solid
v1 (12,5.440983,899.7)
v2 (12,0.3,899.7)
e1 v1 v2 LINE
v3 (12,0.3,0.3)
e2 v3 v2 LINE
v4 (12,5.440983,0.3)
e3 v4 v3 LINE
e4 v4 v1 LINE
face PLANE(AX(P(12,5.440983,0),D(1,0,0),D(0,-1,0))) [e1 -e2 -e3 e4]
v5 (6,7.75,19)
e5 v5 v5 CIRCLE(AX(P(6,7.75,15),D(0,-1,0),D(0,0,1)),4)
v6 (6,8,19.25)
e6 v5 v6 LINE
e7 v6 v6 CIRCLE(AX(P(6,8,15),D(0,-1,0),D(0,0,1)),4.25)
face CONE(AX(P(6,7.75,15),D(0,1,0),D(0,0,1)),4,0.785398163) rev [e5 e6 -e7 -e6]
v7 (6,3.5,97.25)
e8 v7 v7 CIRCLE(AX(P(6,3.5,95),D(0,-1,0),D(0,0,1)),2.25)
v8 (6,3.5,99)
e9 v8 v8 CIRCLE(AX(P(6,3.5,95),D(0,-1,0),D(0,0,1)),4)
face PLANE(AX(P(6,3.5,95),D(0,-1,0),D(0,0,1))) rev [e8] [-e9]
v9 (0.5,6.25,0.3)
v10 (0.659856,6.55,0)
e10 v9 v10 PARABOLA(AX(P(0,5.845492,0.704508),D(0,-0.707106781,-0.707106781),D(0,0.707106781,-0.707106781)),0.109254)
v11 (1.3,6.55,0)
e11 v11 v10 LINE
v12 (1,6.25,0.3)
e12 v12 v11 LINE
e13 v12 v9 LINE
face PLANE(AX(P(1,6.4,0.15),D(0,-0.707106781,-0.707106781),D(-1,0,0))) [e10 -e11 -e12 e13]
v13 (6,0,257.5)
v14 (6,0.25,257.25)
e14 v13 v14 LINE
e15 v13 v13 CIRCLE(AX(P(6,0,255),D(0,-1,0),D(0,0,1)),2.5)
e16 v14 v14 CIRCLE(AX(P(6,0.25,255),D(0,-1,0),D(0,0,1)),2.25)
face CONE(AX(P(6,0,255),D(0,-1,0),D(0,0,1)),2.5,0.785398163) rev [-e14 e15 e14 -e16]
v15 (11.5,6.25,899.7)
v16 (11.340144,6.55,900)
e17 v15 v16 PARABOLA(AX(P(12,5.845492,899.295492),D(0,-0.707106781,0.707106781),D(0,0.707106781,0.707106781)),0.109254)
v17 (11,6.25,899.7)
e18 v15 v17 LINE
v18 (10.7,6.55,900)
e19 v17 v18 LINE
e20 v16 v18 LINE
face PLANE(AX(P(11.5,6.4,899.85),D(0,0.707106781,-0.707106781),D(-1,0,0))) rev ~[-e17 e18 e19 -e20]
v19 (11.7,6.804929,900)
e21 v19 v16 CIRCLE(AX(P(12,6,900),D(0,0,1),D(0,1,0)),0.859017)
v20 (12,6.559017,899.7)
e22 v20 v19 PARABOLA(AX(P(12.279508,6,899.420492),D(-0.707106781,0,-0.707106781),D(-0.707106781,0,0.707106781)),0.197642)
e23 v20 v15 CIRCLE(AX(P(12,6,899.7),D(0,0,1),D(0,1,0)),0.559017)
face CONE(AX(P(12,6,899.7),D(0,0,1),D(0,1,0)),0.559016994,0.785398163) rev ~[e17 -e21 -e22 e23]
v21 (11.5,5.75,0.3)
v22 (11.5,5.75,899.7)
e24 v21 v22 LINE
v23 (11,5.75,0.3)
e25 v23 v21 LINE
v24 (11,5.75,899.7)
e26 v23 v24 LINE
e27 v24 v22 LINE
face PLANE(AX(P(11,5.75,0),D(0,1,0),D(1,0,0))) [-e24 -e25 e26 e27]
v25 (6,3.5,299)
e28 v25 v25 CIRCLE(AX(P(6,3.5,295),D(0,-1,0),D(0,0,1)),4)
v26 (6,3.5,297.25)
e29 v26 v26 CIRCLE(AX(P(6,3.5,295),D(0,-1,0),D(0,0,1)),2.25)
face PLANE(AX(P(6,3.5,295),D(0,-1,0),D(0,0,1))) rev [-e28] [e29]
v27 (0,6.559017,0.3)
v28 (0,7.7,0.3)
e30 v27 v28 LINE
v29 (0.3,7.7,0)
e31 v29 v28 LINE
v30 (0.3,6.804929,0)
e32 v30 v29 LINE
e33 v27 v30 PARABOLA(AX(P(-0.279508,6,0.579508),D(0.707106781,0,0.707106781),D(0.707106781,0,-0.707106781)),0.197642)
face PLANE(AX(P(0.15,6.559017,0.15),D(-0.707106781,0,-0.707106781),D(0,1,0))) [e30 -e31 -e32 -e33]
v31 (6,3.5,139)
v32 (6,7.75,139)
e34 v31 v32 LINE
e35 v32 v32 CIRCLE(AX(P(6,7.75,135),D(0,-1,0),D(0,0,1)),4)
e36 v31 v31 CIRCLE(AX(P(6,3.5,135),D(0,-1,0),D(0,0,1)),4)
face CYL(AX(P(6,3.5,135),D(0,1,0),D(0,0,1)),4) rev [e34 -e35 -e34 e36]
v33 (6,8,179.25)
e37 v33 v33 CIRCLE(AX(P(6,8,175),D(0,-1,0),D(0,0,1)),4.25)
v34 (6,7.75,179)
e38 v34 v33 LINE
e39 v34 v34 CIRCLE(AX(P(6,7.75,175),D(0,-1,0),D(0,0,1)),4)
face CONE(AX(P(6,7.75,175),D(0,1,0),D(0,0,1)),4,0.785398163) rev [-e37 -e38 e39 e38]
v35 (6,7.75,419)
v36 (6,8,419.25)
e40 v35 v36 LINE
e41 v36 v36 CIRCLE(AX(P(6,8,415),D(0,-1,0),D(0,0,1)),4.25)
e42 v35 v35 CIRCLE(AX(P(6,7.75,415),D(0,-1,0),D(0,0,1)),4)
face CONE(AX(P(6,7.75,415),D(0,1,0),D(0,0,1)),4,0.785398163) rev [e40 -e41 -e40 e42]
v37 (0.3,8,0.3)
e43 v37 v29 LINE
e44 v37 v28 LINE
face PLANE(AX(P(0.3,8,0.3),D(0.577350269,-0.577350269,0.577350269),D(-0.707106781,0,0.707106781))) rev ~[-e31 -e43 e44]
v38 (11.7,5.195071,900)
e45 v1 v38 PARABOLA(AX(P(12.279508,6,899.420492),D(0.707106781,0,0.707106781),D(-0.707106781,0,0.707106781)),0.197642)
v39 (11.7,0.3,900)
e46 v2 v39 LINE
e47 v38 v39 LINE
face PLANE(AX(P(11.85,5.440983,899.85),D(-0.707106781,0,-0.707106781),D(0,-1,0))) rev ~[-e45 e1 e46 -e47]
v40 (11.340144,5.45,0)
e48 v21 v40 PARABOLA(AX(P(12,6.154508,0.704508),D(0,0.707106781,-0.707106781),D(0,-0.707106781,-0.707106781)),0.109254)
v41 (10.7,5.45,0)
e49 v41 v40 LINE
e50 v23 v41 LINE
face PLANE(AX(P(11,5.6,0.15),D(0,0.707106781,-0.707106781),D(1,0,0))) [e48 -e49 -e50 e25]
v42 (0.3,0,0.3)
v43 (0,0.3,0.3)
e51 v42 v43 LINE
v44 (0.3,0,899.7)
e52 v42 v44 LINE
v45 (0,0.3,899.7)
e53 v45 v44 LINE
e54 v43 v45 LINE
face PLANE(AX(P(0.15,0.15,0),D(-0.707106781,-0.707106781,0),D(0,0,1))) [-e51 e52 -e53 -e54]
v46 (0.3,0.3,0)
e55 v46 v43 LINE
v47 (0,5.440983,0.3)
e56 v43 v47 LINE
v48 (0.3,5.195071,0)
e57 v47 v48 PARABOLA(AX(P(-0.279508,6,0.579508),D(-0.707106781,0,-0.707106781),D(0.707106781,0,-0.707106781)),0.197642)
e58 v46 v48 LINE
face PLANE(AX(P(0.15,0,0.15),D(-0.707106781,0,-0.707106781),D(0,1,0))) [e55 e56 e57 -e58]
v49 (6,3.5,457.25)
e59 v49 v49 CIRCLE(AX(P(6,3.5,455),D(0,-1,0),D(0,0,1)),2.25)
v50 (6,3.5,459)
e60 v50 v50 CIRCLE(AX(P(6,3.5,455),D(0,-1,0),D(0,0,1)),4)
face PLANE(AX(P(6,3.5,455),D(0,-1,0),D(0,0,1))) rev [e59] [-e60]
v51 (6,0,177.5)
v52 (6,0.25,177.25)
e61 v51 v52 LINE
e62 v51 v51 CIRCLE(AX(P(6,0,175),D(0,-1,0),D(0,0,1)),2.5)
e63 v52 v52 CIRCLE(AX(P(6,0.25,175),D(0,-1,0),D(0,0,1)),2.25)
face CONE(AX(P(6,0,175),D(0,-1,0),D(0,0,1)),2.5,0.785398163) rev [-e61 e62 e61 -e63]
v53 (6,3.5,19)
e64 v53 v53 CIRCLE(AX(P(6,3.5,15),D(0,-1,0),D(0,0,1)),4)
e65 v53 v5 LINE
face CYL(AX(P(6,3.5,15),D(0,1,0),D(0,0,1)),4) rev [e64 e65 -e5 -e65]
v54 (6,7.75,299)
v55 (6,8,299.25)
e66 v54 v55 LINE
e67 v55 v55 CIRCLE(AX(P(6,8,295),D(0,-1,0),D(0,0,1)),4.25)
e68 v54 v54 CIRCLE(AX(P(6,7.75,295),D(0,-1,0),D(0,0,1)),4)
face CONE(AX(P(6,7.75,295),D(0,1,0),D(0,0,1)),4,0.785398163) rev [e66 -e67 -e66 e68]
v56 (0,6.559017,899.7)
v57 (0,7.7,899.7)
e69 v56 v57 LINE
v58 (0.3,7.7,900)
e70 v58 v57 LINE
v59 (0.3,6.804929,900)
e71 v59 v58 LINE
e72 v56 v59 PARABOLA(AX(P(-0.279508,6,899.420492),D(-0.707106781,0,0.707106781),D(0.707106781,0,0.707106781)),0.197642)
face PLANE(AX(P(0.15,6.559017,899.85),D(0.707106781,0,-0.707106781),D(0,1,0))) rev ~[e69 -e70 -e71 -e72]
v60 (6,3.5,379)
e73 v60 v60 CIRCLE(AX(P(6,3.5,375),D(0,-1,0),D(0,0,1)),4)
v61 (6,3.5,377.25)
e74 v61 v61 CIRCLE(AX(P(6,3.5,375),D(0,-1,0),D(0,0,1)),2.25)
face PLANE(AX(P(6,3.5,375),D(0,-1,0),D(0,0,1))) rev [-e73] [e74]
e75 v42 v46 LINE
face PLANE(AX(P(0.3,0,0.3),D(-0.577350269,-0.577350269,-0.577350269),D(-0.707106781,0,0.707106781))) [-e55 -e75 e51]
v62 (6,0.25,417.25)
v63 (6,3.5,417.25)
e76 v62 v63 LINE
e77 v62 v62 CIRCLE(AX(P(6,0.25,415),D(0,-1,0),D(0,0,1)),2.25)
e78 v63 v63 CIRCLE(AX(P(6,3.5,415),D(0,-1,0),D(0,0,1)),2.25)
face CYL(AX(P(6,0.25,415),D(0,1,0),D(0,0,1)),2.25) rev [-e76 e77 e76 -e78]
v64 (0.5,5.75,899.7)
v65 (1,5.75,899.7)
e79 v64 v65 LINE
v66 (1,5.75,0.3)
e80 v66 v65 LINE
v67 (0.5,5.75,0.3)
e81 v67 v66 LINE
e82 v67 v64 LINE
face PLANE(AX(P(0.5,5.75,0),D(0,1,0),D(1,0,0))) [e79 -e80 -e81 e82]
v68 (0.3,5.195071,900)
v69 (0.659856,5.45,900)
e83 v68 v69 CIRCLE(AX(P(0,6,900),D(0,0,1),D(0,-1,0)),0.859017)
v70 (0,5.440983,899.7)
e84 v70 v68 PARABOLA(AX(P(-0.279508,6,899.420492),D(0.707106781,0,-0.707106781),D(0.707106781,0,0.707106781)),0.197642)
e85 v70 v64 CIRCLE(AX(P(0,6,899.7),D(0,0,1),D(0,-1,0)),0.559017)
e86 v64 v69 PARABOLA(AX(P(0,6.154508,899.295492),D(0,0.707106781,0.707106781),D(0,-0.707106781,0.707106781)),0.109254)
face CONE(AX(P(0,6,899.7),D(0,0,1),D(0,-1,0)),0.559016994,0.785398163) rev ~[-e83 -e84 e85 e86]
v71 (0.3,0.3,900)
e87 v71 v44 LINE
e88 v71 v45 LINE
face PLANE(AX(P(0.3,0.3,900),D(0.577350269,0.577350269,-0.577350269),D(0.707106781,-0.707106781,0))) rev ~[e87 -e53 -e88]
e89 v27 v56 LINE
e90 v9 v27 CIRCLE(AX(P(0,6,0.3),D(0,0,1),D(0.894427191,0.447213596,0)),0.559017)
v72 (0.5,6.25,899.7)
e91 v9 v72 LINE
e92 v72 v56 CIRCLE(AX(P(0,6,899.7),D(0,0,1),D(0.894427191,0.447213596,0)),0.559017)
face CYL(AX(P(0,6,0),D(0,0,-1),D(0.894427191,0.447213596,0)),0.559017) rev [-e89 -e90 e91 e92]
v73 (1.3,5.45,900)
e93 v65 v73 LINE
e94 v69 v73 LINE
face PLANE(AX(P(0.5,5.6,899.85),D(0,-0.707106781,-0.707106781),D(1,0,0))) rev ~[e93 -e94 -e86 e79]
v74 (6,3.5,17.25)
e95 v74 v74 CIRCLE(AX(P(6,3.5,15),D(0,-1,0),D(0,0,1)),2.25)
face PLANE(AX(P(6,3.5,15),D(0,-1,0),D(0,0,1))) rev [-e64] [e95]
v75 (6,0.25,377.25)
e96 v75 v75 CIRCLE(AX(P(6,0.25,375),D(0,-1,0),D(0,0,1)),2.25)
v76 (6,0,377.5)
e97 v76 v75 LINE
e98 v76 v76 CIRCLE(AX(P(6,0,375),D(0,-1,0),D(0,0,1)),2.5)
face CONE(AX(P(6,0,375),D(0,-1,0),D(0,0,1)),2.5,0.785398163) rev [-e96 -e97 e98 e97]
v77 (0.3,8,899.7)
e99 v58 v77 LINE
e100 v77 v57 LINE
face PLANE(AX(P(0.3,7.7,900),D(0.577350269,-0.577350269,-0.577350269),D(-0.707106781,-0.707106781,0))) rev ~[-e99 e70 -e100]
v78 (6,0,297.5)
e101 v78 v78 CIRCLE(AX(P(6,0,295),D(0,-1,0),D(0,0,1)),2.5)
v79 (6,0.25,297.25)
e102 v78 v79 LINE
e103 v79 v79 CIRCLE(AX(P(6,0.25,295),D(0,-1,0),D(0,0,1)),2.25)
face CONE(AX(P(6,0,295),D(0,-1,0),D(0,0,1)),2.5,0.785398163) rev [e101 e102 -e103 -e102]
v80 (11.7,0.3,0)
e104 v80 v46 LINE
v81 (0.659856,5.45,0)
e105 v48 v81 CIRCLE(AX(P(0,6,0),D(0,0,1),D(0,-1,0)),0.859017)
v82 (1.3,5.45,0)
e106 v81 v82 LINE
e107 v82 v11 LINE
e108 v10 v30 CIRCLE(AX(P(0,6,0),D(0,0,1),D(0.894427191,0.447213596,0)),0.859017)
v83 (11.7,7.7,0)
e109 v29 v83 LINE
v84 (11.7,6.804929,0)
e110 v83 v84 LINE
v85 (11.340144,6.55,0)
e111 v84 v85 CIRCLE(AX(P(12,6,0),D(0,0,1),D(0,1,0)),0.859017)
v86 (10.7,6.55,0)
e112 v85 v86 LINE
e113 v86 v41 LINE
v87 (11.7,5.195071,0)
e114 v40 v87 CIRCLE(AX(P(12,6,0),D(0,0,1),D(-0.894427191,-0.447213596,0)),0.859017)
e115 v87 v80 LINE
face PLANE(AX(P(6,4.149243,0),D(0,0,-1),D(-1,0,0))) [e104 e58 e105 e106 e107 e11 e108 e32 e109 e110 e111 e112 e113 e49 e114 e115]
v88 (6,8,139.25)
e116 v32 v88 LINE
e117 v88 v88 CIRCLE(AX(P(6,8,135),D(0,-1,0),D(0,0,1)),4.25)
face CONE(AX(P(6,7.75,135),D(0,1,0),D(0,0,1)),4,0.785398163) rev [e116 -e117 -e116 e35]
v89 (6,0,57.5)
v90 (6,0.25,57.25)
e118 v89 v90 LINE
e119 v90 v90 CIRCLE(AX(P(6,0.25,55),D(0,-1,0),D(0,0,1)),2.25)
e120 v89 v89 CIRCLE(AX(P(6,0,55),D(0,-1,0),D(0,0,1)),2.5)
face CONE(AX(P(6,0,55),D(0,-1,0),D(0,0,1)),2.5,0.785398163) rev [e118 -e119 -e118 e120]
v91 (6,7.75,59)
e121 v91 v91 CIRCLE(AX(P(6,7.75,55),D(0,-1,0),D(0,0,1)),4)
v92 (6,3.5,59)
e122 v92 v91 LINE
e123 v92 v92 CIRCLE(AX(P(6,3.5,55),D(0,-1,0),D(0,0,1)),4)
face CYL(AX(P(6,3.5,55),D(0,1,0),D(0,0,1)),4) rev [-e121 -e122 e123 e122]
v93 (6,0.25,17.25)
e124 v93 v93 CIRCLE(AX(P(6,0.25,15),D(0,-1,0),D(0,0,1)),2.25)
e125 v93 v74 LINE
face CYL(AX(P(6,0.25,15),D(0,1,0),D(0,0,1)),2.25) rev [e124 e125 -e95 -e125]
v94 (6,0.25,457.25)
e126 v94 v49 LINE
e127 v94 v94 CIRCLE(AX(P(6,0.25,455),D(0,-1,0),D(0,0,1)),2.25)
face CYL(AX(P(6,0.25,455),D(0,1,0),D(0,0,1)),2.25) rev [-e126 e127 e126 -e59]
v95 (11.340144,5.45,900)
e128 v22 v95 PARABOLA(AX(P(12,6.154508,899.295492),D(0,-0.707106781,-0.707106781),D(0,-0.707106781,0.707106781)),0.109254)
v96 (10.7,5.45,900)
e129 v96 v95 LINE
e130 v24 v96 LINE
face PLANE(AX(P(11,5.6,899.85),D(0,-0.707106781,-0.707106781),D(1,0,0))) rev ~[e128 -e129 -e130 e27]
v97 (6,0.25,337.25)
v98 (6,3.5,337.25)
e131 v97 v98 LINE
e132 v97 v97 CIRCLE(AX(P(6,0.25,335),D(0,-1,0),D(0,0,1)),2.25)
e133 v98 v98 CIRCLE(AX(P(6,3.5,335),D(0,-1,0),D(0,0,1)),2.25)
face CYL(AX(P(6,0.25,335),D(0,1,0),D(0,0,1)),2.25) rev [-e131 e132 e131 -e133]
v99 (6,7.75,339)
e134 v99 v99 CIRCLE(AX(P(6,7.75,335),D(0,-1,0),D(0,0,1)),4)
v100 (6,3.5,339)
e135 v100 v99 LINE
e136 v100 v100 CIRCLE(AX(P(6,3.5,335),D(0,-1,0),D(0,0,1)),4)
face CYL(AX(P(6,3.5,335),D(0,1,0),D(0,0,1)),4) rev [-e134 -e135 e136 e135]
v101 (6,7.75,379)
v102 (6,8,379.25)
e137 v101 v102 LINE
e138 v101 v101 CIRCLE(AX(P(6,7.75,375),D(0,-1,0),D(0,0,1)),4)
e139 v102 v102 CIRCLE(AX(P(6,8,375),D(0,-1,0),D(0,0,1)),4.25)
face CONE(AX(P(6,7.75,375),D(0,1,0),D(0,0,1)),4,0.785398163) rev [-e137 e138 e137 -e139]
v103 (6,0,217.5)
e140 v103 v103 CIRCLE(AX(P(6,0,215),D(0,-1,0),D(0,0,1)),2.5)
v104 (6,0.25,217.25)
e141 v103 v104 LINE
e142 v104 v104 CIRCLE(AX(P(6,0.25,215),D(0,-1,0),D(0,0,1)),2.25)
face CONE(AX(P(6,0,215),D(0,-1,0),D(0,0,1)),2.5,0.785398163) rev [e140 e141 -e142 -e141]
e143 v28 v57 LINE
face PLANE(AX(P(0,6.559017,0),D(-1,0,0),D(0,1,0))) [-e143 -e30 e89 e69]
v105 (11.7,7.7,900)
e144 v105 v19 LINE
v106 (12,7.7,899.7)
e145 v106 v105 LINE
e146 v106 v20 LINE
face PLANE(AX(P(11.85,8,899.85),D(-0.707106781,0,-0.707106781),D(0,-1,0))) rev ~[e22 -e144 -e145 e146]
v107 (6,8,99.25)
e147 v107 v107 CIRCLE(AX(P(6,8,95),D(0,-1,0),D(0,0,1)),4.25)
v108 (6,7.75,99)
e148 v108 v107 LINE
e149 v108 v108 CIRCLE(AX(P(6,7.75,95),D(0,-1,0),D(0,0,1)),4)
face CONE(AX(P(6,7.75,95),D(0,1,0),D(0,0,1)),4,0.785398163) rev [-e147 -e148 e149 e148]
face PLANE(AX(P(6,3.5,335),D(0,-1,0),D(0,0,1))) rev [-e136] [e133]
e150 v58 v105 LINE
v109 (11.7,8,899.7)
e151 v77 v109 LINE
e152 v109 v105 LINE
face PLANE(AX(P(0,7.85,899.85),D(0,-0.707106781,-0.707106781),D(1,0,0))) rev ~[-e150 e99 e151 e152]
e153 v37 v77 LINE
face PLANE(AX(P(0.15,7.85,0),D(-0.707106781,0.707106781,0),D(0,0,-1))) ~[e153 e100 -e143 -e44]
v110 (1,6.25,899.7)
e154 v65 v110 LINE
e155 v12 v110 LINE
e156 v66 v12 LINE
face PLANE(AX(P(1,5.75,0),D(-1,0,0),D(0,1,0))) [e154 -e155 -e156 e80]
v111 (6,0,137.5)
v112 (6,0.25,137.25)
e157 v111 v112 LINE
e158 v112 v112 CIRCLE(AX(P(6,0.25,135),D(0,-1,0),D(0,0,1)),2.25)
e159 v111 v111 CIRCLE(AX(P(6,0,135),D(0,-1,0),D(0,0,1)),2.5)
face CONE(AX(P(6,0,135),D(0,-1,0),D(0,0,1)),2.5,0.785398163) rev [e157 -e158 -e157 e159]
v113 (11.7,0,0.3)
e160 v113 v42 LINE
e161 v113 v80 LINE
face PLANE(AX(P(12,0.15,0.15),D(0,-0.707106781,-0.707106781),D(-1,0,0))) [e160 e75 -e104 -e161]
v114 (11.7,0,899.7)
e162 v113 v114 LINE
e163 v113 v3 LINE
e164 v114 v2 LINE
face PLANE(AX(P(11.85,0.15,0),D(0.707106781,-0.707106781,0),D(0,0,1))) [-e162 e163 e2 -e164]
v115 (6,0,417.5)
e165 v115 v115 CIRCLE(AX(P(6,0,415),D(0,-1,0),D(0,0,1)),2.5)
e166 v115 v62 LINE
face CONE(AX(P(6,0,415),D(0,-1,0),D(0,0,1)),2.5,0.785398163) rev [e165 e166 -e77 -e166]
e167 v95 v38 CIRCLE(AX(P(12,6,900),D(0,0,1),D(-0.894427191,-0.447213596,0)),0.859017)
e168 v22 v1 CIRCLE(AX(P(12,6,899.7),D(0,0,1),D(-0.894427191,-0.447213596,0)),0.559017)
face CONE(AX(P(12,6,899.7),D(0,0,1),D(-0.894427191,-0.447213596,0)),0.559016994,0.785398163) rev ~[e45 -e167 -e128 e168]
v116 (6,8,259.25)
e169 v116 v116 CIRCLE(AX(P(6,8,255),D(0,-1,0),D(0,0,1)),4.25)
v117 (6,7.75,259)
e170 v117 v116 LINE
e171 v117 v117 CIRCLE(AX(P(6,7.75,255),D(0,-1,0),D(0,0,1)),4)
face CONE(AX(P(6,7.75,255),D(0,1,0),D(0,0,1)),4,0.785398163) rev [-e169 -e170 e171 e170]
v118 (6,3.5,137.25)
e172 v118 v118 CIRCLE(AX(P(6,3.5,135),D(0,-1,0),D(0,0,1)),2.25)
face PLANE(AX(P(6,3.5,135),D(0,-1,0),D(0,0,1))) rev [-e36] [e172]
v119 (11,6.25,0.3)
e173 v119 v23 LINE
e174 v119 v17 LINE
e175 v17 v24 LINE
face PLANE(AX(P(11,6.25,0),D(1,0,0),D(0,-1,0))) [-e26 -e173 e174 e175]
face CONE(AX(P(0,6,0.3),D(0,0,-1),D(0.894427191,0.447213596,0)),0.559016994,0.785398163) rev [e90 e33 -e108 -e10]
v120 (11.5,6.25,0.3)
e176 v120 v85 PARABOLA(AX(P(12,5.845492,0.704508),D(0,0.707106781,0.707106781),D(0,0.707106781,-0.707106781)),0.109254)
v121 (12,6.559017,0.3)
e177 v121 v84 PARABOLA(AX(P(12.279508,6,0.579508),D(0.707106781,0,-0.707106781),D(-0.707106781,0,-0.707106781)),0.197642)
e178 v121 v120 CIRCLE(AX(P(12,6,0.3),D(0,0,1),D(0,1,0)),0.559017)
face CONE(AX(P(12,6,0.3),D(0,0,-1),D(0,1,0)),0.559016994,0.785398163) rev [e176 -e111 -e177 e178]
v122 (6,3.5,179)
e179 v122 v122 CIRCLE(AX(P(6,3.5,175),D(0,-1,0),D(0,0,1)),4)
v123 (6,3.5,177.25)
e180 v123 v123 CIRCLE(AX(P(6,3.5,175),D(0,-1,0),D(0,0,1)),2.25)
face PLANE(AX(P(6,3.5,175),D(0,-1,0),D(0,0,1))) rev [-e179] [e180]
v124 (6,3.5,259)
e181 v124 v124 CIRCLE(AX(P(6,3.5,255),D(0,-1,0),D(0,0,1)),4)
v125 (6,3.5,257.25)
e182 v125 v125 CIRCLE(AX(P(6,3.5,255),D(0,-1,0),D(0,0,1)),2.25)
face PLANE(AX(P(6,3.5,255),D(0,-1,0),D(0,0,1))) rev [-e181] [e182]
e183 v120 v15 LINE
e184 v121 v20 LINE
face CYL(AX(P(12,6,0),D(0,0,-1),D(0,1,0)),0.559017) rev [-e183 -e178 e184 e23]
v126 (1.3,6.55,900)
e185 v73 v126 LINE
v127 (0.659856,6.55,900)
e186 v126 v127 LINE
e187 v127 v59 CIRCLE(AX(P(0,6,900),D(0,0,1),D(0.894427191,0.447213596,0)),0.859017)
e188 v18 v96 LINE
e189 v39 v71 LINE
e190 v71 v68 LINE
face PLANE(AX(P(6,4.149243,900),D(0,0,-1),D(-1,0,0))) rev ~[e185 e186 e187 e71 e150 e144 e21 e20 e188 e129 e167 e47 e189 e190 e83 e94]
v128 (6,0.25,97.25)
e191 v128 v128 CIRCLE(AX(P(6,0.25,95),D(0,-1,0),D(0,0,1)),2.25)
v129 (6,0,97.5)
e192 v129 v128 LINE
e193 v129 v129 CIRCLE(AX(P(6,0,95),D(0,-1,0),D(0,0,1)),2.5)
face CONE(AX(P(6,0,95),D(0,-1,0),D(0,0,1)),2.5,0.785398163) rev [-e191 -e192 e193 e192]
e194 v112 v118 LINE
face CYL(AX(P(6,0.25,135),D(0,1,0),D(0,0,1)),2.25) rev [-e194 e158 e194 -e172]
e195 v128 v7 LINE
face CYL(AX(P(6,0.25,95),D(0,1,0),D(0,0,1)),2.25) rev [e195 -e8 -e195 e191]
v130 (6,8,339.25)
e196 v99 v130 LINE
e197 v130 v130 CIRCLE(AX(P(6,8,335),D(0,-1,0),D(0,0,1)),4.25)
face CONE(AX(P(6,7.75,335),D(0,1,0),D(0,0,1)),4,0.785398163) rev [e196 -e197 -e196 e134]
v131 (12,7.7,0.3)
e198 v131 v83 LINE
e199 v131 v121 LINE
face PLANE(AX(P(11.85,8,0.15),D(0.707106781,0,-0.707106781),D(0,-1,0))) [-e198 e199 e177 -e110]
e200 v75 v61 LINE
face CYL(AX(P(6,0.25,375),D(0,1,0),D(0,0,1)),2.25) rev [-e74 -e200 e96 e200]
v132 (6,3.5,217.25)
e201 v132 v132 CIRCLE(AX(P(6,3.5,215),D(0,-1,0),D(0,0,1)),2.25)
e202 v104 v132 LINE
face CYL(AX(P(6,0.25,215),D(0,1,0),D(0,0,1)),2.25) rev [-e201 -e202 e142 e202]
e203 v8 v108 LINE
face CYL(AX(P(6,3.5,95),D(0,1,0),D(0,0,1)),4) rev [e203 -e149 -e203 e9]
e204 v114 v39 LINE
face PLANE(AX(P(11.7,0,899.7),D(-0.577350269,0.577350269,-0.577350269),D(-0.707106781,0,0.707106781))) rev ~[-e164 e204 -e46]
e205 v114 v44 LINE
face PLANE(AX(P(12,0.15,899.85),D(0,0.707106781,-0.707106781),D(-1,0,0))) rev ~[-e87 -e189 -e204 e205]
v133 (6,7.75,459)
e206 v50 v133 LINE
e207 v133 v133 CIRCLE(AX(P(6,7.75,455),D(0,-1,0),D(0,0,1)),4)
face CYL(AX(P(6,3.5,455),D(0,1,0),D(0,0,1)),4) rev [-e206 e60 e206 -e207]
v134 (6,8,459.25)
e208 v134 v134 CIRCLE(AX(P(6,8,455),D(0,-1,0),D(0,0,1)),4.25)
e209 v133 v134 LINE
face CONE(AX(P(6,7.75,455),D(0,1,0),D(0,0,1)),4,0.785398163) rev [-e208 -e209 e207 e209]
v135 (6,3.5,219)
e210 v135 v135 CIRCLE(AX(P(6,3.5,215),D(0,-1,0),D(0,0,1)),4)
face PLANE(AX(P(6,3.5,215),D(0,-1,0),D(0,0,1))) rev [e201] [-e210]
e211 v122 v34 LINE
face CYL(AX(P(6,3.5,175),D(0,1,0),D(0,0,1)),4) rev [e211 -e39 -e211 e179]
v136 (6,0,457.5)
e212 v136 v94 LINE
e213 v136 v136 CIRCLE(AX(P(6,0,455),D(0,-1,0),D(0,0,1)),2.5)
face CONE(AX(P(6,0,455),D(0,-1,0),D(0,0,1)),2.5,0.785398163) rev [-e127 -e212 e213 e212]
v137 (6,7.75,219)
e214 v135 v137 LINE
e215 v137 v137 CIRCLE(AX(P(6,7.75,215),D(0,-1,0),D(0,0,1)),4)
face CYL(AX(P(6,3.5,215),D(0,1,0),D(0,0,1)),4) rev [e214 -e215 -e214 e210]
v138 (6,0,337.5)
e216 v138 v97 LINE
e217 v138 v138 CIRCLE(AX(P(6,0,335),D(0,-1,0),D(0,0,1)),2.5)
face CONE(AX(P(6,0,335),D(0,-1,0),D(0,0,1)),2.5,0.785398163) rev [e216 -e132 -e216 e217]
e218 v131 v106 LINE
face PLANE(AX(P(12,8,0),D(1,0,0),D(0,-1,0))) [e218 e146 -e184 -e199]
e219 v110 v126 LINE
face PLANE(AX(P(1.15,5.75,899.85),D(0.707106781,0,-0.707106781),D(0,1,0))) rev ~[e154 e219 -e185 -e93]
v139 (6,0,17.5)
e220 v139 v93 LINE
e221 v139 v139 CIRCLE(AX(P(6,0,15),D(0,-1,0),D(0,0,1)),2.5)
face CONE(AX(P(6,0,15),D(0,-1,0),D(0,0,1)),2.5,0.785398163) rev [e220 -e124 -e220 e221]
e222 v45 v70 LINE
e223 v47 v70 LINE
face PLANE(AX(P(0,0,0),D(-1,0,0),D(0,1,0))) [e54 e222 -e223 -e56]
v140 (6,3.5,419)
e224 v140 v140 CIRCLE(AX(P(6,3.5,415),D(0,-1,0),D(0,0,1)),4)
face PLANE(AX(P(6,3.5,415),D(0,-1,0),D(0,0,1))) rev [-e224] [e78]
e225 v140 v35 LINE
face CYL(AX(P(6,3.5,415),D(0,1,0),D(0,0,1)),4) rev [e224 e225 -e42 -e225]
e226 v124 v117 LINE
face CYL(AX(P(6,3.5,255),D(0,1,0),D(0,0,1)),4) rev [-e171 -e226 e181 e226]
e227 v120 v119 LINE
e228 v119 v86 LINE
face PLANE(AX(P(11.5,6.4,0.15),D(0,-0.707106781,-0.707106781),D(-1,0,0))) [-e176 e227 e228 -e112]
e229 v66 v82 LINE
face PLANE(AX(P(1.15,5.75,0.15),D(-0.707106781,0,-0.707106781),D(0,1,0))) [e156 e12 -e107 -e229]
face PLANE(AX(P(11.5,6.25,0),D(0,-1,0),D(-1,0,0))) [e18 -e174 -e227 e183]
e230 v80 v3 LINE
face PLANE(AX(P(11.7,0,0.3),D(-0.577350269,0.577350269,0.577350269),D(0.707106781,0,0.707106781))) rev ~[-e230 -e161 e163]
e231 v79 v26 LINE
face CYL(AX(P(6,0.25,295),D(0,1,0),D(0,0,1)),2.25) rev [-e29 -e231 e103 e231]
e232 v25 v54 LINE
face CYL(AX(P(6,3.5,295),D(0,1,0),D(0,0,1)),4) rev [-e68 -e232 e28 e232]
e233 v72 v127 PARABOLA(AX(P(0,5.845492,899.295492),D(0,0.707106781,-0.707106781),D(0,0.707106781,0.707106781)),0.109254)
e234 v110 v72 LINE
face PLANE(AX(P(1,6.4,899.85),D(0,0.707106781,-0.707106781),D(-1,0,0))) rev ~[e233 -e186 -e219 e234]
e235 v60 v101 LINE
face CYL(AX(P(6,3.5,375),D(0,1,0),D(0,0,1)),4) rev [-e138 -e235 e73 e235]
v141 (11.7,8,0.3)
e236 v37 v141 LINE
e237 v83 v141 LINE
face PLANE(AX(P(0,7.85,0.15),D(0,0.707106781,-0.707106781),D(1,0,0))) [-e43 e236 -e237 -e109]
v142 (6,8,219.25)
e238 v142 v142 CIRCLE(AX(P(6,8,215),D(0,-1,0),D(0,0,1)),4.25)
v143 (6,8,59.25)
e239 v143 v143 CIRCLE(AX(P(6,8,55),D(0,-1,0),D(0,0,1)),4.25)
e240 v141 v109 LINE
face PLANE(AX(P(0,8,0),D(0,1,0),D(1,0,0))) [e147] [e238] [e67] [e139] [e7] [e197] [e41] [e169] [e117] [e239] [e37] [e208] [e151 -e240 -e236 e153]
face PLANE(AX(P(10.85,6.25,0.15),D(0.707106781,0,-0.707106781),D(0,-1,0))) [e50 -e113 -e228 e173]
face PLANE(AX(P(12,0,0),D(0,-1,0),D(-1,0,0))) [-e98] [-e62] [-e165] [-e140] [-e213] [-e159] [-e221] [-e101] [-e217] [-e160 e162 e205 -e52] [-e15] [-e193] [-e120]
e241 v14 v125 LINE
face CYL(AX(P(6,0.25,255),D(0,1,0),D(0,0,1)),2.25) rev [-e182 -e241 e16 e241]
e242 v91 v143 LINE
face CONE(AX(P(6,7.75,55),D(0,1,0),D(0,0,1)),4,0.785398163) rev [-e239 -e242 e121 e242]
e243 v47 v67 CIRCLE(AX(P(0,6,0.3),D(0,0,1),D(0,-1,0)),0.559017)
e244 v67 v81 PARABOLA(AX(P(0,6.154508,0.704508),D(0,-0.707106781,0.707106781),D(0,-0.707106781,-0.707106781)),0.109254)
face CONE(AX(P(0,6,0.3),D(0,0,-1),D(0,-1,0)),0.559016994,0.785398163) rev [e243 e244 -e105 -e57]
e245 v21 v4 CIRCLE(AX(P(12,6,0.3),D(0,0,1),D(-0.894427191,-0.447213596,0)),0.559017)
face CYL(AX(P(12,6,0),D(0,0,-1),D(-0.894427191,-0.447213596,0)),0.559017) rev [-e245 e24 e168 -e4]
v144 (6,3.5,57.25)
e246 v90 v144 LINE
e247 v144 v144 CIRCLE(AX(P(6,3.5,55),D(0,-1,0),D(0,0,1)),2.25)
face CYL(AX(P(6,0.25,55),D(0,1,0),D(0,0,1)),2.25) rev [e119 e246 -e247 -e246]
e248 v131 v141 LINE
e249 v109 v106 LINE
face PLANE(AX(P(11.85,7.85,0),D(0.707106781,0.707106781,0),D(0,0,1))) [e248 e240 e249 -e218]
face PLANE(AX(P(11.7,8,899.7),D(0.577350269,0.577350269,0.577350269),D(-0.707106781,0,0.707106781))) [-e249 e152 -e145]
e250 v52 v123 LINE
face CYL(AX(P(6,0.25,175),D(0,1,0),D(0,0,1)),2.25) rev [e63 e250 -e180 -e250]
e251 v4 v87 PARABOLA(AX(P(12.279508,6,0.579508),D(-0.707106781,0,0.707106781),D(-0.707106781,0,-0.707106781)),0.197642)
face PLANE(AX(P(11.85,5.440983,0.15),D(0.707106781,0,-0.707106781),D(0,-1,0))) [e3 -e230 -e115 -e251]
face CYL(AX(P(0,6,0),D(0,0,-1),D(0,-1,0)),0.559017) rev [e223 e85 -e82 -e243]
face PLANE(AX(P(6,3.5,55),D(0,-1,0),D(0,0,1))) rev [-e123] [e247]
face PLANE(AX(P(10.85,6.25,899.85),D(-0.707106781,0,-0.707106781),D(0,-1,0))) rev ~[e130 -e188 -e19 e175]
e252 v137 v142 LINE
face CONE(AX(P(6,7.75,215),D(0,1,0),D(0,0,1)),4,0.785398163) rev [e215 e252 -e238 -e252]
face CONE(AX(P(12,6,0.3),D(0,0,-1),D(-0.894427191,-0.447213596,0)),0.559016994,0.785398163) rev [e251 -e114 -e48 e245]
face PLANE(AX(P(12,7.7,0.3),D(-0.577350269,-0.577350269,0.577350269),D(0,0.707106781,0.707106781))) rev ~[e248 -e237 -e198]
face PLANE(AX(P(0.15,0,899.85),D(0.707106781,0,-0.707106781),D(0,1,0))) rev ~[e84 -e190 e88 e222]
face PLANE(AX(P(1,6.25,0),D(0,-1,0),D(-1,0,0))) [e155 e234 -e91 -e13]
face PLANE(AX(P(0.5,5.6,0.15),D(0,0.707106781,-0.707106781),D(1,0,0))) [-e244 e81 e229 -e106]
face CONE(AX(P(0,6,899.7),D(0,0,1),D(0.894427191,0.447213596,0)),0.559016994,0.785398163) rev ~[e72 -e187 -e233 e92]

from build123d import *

# Parameters (mm, degrees)
BOSS_EXTRUDE1_DEPTH = 900
CHAMFER1_SIZE       = 0.3
LPATTERN1_COUNT     = 12
LPATTERN1_PITCH     = 40


with BuildPart() as part:
    # Sketch1 → Boss-Extrude1 (new body)
    with BuildSketch(Plane.XY):
        with BuildLine():
            Line((0, 8), (12, 8))
            Line((12, 8), (12, 6.75))
            Line((12, 6.75), (12, 6.559016994))
            ThreePointArc((12, 6.559016994), (11.706107374, 6.475528258), (11.5, 6.25))
            Line((11.5, 6.25), (11, 6.25))
            Line((11, 6.25), (11, 5.75))
            Line((11, 5.75), (11.5, 5.75))
            ThreePointArc((11.5, 5.75), (11.706107374, 5.524471742), (12, 5.440983006))
            Line((12, 5.440983006), (12, 5.25))
            Line((12, 5.25), (12, 0))
            Line((12, 0), (0, 0))
            Line((0, 0), (0, 5.25))
            Line((0, 5.25), (0, 5.440983006))
            ThreePointArc((0, 5.440983006), (0.293892626, 5.524471742), (0.5, 5.75))
            Line((0.5, 5.75), (1, 5.75))
            Line((1, 5.75), (1, 6.25))
            Line((1, 6.25), (0.5, 6.25))
            ThreePointArc((0.5, 6.25), (0.293892626, 6.475528258), (0, 6.559016994))
            Line((0, 6.559016994), (0, 6.75))
            Line((0, 6.75), (0, 8))
        make_face()
    extrude(amount=BOSS_EXTRUDE1_DEPTH)

    # Chamfer1
    chamfer1_edges = [part.edges().sort_by_distance(p)[0] for p in [
        (12, 2.720491503, 900),
        (11.706107374, 5.524471742, 900),
        (0, 2.720491503, 0),
        (0.293892626, 5.524471742, 0),
        (0.75, 5.75, 0),
        (1, 6, 0),
        (0.75, 6.25, 0),
        (11.25, 5.75, 900),
        (0.293892626, 6.475528258, 0),
        (0, 7.279508497, 0),
        (6, 8, 0),
        (12, 7.279508497, 0),
        (11.706107374, 6.475528258, 0),
        (11, 6, 900),
        (11.25, 6.25, 0),
        (11, 6, 0),
        (11.25, 5.75, 0),
        (11.706107374, 5.524471742, 0),
        (12, 2.720491503, 0),
        (6, 0, 0),
        (11.25, 6.25, 900),
        (11.706107374, 6.475528258, 900),
        (12, 7.279508497, 900),
        (0, 8, 450),
        (12, 8, 450),
        (12, 0, 450),
        (0, 0, 450),
        (6, 8, 900),
        (0, 2.720491503, 900),
        (0, 7.279508497, 900),
        (0.293892626, 6.475528258, 900),
        (0.75, 6.25, 900),
        (1, 6, 900),
        (0.75, 5.75, 900),
        (0.293892626, 5.524471742, 900),
        (6, 0, 900),
    ]]
    chamfer(chamfer1_edges, length=CHAMFER1_SIZE)

    # Sketch3 → CBORE for M5 Hex Head Bolt1 (revolve, cut)
    with BuildSketch(Plane(origin=(6, 8, 15), x_dir=(0, 0, 1), z_dir=(1, 0, 0))):
        Polygon((0, 0), (0, 8), (2.5, 8), (2.25, 7.75), (2.25, 4.5), (4, 4.5), (4, 0.25), (4.25, 0), align=None)
    cbore_for_m5_hex_head_bolt1 = revolve(axis=Axis((6, 14.35, 15), (0, -1, 0)), mode=Mode.SUBTRACT)

    # LPattern1: CBORE for M5 Hex Head Bolt1 ×12
    with Locations(*[(0, 0, i * LPATTERN1_PITCH) for i in range(1, LPATTERN1_COUNT)]):
        add(cbore_for_m5_hex_head_bolt1, mode=Mode.SUBTRACT)


solid = part.part
